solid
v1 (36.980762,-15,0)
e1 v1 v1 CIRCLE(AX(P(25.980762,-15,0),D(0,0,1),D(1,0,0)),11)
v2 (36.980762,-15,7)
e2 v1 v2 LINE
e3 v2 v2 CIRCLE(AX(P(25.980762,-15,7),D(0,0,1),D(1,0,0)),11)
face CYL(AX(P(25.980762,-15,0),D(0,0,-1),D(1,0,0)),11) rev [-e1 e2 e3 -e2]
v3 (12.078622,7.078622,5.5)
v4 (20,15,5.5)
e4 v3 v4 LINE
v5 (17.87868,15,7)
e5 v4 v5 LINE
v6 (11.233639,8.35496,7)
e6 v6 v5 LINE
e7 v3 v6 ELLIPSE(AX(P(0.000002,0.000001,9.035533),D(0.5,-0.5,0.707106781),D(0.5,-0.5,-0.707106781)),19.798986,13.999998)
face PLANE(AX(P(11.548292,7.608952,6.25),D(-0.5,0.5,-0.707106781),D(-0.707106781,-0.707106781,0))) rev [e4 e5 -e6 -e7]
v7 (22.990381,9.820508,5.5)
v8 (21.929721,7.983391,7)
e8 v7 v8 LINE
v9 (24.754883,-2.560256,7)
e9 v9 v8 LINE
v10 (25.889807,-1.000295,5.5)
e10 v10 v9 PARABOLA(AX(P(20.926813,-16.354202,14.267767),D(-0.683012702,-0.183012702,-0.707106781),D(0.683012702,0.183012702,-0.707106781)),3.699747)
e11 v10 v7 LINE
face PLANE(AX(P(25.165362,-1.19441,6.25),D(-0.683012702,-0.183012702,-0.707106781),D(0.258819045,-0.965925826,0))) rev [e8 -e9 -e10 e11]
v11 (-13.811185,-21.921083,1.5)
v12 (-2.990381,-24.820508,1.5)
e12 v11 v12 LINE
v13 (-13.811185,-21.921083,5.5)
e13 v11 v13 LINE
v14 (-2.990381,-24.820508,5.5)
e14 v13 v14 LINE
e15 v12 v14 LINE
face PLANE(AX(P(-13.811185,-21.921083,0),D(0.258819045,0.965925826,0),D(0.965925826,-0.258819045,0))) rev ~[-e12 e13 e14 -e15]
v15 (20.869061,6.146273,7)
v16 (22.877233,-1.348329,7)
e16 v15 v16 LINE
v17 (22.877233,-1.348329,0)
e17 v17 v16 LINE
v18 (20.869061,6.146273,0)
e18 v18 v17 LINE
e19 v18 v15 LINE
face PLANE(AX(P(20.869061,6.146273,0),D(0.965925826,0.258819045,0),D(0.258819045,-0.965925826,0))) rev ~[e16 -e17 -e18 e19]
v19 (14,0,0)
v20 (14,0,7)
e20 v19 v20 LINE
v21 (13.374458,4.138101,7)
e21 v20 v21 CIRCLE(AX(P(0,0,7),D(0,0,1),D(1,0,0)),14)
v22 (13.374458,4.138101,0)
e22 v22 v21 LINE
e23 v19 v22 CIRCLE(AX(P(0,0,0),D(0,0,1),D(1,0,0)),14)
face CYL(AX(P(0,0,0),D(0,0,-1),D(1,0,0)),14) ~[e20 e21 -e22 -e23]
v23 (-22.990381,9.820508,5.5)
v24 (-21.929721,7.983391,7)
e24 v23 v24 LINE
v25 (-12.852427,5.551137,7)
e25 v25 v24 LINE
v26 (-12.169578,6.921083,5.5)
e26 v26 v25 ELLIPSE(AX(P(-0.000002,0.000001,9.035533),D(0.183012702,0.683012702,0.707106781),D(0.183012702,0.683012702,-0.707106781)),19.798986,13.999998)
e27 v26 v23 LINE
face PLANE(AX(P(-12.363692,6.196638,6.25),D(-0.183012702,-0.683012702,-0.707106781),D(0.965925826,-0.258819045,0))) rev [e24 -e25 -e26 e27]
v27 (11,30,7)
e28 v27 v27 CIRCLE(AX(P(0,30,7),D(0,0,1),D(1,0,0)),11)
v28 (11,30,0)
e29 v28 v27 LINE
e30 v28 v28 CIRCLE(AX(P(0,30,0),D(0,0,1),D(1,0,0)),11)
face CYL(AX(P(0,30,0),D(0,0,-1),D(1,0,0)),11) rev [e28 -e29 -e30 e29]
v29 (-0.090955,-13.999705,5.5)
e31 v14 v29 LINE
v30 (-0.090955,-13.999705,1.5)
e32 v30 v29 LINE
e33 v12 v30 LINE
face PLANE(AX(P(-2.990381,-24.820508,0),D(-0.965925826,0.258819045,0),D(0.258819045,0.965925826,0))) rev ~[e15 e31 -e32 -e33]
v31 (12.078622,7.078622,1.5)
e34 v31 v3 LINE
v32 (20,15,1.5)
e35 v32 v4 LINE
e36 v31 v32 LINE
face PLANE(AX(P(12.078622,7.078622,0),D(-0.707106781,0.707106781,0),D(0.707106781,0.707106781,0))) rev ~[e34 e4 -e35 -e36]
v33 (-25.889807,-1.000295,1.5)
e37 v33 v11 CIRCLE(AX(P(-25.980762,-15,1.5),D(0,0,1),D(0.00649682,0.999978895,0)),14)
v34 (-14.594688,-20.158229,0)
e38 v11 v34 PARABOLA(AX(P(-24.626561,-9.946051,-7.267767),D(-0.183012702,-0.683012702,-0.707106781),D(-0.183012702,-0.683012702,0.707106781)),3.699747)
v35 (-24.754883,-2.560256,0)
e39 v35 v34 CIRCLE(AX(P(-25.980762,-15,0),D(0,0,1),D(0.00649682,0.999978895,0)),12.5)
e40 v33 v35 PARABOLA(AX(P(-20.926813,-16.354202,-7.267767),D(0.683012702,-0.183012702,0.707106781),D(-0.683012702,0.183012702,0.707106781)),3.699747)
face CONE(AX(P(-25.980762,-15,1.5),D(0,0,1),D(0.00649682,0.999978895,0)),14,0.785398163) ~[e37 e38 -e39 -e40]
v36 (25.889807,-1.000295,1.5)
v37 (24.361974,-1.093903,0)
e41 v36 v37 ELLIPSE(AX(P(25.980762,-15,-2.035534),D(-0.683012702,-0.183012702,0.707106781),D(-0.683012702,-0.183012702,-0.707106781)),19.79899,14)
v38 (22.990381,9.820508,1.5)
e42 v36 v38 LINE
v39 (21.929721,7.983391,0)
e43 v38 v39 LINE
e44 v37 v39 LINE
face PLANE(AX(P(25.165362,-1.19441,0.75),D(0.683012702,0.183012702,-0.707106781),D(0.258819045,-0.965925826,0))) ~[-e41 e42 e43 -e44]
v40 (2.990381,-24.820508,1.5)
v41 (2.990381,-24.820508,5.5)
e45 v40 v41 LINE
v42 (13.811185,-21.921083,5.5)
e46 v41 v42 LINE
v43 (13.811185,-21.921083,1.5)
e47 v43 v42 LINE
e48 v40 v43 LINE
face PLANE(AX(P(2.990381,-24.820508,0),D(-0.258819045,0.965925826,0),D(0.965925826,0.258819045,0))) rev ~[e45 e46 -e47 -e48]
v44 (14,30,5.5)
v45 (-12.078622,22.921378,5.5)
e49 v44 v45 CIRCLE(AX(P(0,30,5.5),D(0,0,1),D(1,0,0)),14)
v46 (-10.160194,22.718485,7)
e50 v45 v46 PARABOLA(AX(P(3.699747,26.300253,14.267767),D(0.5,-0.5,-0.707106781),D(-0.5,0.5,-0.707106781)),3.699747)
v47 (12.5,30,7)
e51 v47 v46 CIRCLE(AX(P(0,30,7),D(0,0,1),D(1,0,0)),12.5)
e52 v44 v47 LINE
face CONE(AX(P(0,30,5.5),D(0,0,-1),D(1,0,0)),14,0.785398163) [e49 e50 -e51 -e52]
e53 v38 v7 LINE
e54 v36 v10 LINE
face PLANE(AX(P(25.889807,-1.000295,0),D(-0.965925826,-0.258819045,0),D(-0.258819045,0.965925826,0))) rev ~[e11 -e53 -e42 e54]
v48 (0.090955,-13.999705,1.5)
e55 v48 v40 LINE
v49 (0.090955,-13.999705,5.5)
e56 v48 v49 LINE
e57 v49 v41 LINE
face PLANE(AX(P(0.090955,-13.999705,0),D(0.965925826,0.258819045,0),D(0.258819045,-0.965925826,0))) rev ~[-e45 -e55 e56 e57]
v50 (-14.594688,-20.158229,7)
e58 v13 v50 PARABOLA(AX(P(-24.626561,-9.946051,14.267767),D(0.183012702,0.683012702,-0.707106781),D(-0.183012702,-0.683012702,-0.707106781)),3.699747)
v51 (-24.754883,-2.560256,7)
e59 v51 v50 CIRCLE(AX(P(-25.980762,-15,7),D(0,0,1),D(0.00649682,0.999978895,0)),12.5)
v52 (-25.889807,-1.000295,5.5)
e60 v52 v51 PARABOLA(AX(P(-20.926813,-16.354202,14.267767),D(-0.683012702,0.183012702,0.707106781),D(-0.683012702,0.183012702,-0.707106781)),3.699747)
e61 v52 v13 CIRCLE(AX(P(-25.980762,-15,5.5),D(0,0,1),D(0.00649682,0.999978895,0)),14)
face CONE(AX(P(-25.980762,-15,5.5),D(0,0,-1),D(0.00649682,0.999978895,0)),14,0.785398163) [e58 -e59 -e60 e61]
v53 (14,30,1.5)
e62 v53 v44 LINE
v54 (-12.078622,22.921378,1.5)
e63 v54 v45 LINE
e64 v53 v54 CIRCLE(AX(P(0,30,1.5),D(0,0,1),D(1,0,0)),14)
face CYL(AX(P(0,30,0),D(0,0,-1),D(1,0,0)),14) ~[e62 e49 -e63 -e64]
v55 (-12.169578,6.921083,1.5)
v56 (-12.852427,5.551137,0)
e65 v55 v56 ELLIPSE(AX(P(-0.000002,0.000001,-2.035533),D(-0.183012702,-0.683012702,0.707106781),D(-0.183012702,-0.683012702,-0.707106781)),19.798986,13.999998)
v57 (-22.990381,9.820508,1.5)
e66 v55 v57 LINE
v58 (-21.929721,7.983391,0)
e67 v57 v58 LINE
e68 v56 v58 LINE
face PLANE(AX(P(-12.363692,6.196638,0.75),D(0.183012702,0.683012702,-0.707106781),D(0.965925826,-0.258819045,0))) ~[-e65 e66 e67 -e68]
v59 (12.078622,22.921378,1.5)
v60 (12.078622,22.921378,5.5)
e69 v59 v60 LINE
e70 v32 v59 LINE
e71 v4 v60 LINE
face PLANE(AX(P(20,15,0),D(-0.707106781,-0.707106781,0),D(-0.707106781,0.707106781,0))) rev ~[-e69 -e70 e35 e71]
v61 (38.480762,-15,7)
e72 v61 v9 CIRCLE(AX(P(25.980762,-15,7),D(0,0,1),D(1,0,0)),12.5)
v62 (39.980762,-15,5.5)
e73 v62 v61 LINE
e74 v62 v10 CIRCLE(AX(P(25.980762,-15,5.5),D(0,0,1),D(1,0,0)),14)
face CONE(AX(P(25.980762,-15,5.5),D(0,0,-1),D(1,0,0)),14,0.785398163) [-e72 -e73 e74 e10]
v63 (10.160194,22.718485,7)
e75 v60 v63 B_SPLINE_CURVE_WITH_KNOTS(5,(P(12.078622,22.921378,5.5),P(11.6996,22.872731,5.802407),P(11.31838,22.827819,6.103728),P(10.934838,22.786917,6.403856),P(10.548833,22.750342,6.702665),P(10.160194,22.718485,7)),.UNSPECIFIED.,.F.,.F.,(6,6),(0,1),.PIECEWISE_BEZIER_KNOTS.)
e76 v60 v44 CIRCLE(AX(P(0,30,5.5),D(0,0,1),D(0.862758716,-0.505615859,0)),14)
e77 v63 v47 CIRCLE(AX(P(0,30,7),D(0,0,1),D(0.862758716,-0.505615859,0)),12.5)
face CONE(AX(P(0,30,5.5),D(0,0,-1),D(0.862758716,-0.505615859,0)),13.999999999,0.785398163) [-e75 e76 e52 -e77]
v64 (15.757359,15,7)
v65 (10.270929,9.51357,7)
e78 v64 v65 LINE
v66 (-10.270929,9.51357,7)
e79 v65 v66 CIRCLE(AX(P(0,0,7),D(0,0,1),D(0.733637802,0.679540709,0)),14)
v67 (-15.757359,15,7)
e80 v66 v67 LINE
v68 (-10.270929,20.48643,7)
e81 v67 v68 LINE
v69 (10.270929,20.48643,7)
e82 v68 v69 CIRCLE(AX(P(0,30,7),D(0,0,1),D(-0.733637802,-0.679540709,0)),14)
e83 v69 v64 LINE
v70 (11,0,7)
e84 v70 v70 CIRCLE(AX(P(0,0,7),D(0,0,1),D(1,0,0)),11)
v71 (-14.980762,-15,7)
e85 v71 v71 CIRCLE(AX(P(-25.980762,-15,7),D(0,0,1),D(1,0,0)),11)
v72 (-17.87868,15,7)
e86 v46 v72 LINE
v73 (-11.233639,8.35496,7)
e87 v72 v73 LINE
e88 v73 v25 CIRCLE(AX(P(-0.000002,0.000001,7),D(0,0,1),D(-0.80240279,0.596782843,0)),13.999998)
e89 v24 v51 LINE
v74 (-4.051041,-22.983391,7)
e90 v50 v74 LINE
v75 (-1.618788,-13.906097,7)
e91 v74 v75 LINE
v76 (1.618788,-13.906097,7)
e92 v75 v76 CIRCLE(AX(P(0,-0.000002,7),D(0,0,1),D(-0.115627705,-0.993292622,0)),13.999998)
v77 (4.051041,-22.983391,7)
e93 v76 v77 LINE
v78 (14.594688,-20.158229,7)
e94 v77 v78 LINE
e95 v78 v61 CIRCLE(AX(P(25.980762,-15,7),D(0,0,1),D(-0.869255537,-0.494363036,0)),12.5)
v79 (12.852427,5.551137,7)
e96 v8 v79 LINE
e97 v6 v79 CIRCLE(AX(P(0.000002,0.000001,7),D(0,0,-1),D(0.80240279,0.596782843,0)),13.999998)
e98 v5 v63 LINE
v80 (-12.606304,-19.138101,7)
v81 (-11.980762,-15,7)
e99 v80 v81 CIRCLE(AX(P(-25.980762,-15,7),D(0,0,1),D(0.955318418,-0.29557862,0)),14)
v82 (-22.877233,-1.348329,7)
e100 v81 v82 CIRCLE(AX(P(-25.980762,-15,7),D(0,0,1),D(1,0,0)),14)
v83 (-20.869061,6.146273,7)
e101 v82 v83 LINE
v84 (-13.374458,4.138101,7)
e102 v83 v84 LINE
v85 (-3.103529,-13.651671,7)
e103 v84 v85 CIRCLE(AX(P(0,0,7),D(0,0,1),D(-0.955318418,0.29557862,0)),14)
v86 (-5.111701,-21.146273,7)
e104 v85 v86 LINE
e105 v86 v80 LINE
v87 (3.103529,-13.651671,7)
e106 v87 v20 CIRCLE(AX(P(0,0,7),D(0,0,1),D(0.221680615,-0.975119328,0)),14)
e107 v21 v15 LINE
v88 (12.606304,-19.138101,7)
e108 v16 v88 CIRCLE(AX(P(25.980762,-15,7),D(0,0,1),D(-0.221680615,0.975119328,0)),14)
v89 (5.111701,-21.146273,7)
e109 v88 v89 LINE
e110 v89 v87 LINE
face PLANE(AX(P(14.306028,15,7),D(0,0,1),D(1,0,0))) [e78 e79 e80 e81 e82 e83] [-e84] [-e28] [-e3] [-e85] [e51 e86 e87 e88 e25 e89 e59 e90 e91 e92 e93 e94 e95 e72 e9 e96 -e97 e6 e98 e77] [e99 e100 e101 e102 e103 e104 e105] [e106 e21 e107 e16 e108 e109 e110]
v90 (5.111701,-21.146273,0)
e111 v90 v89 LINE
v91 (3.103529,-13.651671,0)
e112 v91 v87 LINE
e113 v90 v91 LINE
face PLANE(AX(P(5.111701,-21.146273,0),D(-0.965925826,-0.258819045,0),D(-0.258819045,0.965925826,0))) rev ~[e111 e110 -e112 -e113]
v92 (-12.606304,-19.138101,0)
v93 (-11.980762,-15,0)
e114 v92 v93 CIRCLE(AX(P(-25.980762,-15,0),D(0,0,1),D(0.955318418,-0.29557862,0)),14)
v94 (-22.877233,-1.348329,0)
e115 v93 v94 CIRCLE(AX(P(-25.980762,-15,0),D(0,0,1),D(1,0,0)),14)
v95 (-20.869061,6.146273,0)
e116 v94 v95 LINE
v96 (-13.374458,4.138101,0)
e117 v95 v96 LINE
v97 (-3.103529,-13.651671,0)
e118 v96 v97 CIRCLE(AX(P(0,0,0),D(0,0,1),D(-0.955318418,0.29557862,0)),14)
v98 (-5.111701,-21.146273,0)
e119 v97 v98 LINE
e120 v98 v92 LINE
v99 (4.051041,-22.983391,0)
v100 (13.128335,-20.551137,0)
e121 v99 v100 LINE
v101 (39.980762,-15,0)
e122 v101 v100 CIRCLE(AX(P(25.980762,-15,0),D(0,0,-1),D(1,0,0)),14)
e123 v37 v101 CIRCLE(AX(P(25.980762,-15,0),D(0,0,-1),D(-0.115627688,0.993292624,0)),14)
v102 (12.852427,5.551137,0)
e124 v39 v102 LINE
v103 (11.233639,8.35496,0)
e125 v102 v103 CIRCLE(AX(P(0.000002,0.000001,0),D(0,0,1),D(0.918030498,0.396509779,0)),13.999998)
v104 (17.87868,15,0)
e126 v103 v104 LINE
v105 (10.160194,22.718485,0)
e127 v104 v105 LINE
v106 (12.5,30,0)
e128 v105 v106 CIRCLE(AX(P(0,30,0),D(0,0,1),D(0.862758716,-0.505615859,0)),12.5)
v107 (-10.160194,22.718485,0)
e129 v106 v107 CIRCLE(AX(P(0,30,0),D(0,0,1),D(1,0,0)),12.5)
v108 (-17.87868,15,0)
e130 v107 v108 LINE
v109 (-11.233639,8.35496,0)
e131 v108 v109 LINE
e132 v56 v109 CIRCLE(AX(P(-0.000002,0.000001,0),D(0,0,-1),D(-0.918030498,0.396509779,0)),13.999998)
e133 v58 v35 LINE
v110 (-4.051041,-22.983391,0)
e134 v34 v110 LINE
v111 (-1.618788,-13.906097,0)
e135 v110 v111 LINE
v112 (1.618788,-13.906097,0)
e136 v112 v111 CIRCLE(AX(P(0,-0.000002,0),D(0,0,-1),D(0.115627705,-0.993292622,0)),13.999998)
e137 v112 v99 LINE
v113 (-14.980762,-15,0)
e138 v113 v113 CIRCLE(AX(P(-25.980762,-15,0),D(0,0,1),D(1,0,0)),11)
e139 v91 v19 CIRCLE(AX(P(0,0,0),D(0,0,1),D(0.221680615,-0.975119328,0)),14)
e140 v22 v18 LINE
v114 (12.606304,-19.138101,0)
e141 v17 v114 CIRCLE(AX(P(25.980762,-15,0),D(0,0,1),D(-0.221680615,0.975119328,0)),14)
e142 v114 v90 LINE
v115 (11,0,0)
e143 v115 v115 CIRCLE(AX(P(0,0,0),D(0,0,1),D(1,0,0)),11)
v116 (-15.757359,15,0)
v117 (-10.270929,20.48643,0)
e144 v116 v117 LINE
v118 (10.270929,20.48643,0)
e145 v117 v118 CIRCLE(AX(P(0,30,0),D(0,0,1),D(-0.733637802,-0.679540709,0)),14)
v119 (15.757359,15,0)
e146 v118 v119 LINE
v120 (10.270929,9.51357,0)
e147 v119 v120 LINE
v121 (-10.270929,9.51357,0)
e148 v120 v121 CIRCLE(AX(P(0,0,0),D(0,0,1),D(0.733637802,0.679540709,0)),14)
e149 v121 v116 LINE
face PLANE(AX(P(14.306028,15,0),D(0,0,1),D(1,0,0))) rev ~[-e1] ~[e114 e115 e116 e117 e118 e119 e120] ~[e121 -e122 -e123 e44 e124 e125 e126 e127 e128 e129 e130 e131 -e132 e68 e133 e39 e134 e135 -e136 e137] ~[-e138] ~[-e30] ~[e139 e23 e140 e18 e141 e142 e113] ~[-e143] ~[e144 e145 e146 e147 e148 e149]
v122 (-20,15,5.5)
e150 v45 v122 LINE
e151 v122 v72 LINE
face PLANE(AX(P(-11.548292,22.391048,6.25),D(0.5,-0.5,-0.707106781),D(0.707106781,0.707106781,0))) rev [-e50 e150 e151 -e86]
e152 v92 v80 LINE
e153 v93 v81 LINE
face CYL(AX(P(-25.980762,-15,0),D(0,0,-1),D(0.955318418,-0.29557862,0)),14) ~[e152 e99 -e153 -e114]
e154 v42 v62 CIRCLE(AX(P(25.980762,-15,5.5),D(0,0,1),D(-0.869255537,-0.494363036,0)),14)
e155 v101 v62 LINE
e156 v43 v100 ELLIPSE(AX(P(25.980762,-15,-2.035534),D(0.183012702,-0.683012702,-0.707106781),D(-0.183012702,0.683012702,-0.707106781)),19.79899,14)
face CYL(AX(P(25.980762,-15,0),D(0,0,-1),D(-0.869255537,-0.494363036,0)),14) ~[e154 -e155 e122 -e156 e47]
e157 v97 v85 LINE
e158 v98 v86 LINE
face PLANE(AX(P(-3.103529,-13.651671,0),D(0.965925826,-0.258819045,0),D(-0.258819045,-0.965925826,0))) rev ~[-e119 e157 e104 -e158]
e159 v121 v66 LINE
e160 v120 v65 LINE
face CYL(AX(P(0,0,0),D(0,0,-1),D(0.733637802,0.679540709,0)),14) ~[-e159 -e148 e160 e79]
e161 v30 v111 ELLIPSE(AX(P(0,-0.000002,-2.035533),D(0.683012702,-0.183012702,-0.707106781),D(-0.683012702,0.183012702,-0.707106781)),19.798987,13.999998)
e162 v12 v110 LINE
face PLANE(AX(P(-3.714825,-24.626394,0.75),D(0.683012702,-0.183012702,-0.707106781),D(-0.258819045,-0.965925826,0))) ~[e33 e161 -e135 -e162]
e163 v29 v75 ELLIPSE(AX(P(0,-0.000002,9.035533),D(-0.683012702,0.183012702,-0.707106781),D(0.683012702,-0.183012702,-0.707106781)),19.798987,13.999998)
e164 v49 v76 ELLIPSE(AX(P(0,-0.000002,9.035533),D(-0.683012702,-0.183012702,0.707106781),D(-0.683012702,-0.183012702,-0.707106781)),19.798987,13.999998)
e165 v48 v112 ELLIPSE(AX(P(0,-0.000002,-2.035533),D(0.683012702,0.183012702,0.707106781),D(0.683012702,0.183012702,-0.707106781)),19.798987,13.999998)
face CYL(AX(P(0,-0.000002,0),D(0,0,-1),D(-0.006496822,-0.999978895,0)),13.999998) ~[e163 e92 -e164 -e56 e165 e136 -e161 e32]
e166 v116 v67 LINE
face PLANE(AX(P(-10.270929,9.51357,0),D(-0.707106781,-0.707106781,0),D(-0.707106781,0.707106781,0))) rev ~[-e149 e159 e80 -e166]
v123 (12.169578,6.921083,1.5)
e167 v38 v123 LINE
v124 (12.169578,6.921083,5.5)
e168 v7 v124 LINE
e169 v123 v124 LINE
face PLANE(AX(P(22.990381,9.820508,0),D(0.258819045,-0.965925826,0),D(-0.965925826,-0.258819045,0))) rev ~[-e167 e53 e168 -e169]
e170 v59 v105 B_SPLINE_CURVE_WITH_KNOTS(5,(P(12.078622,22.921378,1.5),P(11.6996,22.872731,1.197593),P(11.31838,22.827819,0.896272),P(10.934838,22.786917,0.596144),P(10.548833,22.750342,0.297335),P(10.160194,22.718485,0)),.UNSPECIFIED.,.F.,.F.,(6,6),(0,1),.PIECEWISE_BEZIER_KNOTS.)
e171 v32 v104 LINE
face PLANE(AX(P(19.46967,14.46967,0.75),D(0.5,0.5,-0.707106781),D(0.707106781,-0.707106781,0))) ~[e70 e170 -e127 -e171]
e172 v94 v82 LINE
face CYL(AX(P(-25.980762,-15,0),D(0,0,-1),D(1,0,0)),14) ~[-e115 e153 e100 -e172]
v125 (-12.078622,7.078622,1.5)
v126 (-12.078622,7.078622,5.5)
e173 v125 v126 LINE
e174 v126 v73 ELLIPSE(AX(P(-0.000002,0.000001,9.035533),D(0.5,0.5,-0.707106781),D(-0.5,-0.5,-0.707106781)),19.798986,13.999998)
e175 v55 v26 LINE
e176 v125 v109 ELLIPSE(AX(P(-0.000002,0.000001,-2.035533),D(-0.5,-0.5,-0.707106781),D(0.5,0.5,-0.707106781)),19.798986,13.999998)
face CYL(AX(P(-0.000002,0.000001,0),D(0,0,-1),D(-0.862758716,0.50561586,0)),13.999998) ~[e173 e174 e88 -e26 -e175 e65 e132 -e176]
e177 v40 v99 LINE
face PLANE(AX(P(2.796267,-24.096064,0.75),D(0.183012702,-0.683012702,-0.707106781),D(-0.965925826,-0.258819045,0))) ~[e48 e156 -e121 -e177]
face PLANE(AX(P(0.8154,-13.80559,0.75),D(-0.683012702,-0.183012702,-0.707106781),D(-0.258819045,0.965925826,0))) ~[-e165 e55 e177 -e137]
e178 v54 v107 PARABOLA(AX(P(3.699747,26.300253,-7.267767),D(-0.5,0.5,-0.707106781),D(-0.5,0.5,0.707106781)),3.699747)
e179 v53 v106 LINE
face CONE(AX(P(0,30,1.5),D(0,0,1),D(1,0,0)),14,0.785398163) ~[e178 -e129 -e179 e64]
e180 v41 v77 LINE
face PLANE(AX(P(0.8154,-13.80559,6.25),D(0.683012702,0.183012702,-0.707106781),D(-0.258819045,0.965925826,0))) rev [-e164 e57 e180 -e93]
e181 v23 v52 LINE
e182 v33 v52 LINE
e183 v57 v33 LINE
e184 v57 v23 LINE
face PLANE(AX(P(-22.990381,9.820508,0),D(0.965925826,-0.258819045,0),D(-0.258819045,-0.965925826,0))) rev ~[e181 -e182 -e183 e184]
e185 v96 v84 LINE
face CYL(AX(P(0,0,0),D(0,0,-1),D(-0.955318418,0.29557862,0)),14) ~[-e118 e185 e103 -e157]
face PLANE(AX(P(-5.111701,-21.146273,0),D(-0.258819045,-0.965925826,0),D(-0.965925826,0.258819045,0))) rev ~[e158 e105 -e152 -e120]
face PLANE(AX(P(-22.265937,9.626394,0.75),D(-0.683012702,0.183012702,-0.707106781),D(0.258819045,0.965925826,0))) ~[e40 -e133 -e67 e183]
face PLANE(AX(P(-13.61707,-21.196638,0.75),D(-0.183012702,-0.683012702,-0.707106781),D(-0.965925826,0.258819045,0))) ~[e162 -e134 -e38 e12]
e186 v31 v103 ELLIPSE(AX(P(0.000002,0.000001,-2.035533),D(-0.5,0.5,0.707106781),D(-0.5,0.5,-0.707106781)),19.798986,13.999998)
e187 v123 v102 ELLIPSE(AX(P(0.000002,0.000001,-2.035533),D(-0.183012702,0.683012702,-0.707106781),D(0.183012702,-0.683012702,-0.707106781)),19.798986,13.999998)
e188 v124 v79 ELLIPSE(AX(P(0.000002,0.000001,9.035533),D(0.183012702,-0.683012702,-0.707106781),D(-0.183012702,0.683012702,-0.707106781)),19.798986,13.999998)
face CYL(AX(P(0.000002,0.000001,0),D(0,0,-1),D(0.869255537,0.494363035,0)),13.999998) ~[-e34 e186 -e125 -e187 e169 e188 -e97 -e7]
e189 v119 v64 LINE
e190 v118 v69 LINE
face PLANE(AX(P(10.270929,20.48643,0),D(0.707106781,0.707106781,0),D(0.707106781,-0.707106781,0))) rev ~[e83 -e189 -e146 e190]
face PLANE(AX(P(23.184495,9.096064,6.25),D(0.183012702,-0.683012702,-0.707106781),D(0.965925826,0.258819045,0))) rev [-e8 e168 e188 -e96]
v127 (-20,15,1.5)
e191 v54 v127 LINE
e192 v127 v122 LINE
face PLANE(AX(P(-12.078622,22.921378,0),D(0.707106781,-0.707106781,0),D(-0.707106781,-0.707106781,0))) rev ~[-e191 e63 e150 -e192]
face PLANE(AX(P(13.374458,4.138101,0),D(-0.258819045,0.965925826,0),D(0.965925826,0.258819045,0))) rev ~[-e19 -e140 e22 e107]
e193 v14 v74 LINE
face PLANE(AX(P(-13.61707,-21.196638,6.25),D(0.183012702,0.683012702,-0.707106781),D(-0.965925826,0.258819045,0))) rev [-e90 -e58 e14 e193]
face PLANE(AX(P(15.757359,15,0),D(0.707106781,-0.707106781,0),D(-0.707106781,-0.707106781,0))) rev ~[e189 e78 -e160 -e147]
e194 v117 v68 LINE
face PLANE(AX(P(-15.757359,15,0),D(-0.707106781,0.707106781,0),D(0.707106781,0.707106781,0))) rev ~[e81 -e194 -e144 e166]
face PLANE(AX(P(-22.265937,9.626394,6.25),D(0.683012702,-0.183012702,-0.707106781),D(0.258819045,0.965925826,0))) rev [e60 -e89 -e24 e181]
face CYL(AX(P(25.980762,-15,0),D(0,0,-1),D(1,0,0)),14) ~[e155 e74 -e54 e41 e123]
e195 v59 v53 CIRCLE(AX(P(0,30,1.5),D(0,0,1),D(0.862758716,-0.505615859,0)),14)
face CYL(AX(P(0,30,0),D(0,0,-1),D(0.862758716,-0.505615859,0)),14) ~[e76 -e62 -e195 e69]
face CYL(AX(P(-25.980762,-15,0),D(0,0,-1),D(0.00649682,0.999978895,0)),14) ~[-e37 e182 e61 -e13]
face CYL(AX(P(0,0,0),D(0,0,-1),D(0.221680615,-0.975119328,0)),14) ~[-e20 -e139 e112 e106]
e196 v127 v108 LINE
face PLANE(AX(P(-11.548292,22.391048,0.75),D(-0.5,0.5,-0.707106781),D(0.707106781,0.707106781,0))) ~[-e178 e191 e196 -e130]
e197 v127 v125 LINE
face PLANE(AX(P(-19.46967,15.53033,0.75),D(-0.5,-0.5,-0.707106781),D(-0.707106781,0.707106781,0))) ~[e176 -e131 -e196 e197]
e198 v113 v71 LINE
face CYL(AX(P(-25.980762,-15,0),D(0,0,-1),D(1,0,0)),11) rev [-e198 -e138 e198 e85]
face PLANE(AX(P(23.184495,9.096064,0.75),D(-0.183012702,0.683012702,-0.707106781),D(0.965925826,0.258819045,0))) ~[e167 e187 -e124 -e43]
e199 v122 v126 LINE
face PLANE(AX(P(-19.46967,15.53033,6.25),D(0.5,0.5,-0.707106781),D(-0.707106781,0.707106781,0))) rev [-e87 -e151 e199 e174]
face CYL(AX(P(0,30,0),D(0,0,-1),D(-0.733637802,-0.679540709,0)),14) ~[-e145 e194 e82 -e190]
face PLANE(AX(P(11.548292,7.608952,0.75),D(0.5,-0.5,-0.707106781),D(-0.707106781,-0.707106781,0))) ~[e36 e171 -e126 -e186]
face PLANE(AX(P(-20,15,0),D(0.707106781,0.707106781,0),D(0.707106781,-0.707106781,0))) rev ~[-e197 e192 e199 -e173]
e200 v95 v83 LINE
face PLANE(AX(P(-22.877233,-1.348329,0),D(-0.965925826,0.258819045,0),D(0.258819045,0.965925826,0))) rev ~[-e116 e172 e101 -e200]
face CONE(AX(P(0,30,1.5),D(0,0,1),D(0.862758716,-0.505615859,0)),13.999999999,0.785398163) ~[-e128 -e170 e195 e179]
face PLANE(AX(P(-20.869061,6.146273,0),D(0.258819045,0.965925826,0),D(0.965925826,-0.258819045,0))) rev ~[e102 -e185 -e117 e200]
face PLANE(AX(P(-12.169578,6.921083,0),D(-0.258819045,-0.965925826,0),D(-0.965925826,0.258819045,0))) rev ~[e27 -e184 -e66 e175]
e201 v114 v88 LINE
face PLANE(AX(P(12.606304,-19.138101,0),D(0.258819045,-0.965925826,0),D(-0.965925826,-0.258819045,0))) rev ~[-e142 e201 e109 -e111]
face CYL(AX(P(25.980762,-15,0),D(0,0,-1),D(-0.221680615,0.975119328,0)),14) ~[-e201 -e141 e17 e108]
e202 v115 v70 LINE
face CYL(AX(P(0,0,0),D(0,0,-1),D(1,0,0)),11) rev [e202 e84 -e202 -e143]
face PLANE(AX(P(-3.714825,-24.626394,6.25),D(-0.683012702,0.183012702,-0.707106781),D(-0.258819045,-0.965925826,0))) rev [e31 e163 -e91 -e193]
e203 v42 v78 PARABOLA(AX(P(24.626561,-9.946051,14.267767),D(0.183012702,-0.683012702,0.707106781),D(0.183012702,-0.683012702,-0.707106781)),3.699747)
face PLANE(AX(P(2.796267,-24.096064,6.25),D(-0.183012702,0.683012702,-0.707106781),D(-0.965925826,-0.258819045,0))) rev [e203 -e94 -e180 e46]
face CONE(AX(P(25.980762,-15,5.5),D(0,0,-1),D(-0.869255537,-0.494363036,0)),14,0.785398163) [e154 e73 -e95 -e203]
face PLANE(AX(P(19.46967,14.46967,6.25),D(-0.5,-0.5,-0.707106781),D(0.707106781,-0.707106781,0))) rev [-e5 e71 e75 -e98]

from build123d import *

# Parameters (mm, degrees)
F0_R     = 11
F1_DEPTH = 7
F2_SIZE  = 1.5


with BuildPart() as f1:
    # F0 (on Top) → F1 (new body)
    with BuildSketch(Plane.XY):
        with BuildLine():
            ThreePointArc((10.2709292347, 9.5135699218), (11.240900909, 8.3451870413), (12.0786220303, 7.0786220303))
            Line((12.0786220303, 7.0786220303), (20, 15))
            Line((20, 15), (12.0786220303, 22.9213779697))
            ThreePointArc((12.0786220303, 22.9213779697), (11.240900909, 21.6548129587), (10.2709292347, 20.4864300782))
            Line((10.2709292347, 20.4864300782), (15.7573593129, 15))
            Line((15.7573593129, 15), (10.2709292347, 9.5135699218))
        make_face()
        with BuildLine():
            ThreePointArc((10.2709292347, 20.4864300782), (11.240900909, 21.6548129587), (12.0786220303, 22.9213779697))
            ThreePointArc((12.0786220303, 22.9213779697), (13.5111196506, 26.3326241278), (14, 30))
            ThreePointArc((14, 30), (-3.6673758722, 43.5111196506), (-12.0786220303, 22.9213779697))
            ThreePointArc((-12.0786220303, 22.9213779697), (-11.240900909, 21.6548129587), (-10.2709292347, 20.4864300782))
            ThreePointArc((-10.2709292347, 20.4864300782), (0, 16), (10.2709292347, 20.4864300782))
        make_face()
        with Locations((0, 30)):
            Circle(F0_R, mode=Mode.SUBTRACT)
        with BuildLine():
            ThreePointArc((-12.0786220303, 7.0786220303), (-11.240900909, 8.3451870413), (-10.2709292347, 9.5135699218))
            Line((-10.2709292347, 9.5135699218), (-15.7573593129, 15))
            Line((-15.7573593129, 15), (-10.2709292347, 20.4864300782))
            ThreePointArc((-10.2709292347, 20.4864300782), (-11.240900909, 21.6548129587), (-12.0786220303, 22.9213779697))
            Line((-12.0786220303, 22.9213779697), (-20, 15))
            Line((-20, 15), (-12.0786220303, 7.0786220303))
        make_face()
        with BuildLine():
            Line((-20.8690607132, 6.1462734615), (-13.3744578503, 4.1381006768))
            ThreePointArc((-13.3744578503, 4.1381006768), (-12.8475944316, 5.5623122279), (-12.1695775172, 6.9210825058))
            Line((-12.1695775172, 6.9210825058), (-22.9903810568, 9.8205080757))
            Line((-22.9903810568, 9.8205080757), (-25.8898066266, -1.0002954639))
            ThreePointArc((-25.8898066266, -1.0002954639), (-24.3740685909, -1.0925007307), (-22.8772334979, -1.3483294014))
            Line((-22.8772334979, -1.3483294014), (-20.8690607132, 6.1462734615))
        make_face()
        with BuildLine():
            ThreePointArc((3.1035286156, -13.6516705986), (10.9418782807, -8.7335731342), (14, 0))
            ThreePointArc((14, 0), (13.8427311233, 2.0925570597), (13.3744578503, 4.1381006768))
            ThreePointArc((13.3744578503, 4.1381006768), (12.8475944316, 5.5623122279), (12.1695775172, 6.9210825058))
            ThreePointArc((12.1695775172, 6.9210825058), (12.124355653, 7), (12.0786220303, 7.0786220303))
            ThreePointArc((12.0786220303, 7.0786220303), (11.240900909, 8.3451870413), (10.2709292347, 9.5135699218))
            ThreePointArc((10.2709292347, 9.5135699218), (0, 14), (-10.2709292347, 9.5135699218))
            ThreePointArc((-10.2709292347, 9.5135699218), (-11.240900909, 8.3451870413), (-12.0786220303, 7.0786220303))
            ThreePointArc((-12.0786220303, 7.0786220303), (-12.124355653, 7), (-12.1695775172, 6.9210825058))
            ThreePointArc((-12.1695775172, 6.9210825058), (-12.8475944316, 5.5623122279), (-13.3744578503, 4.1381006768))
            ThreePointArc((-13.3744578503, 4.1381006768), (-12.124355653, -7), (-3.1035286156, -13.6516705986))
            ThreePointArc((-3.1035286156, -13.6516705986), (-1.6066935226, -13.9074992693), (-0.0909554869, -13.9997045361))
            ThreePointArc((-0.0909554869, -13.9997045361), (0, -14), (0.0909554869, -13.9997045361))
            ThreePointArc((0.0909554869, -13.9997045361), (1.6066935226, -13.9074992693), (3.1035286156, -13.6516705986))
        make_face()
        Circle(F0_R, mode=Mode.SUBTRACT)
        with BuildLine():
            ThreePointArc((-25.8898066266, -1.0002954639), (-38.1051177665, -22), (-13.8111845963, -21.9210825058))
            ThreePointArc((-13.8111845963, -21.9210825058), (-13.1331676819, -20.5623122279), (-12.6063042633, -19.1381006768))
            ThreePointArc((-12.6063042633, -19.1381006768), (-12.1380309902, -17.0925570597), (-11.9807621135, -15))
            ThreePointArc((-11.9807621135, -15), (-15.0388838329, -6.2664268658), (-22.8772334979, -1.3483294014))
            ThreePointArc((-22.8772334979, -1.3483294014), (-24.3740685909, -1.0925007307), (-25.8898066266, -1.0002954639))
        make_face()
        with Locations((-25.9807621135, -15)):
            Circle(F0_R, mode=Mode.SUBTRACT)
        with BuildLine():
            Line((-2.9903810568, -24.8205080757), (-0.0909554869, -13.9997045361))
            ThreePointArc((-0.0909554869, -13.9997045361), (-1.6066935226, -13.9074992693), (-3.1035286156, -13.6516705986))
            Line((-3.1035286156, -13.6516705986), (-5.1117014003, -21.1462734615))
            Line((-5.1117014003, -21.1462734615), (-12.6063042633, -19.1381006768))
            ThreePointArc((-12.6063042633, -19.1381006768), (-13.1331676819, -20.5623122279), (-13.8111845963, -21.9210825058))
            Line((-13.8111845963, -21.9210825058), (-2.9903810568, -24.8205080757))
        make_face()
        with BuildLine():
            Line((5.1117014003, -21.1462734615), (3.1035286156, -13.6516705986))
            ThreePointArc((3.1035286156, -13.6516705986), (1.6066935226, -13.9074992693), (0.0909554869, -13.9997045361))
            Line((0.0909554869, -13.9997045361), (2.9903810568, -24.8205080757))
            Line((2.9903810568, -24.8205080757), (13.8111845963, -21.9210825058))
            ThreePointArc((13.8111845963, -21.9210825058), (13.1331676819, -20.5623122279), (12.6063042633, -19.1381006768))
            Line((12.6063042633, -19.1381006768), (5.1117014003, -21.1462734615))
        make_face()
        with BuildLine():
            ThreePointArc((12.1695775172, 6.9210825058), (12.8475944316, 5.5623122279), (13.3744578503, 4.1381006768))
            Line((13.3744578503, 4.1381006768), (20.8690607132, 6.1462734615))
            Line((20.8690607132, 6.1462734615), (22.8772334979, -1.3483294014))
            ThreePointArc((22.8772334979, -1.3483294014), (24.3740685909, -1.0925007307), (25.8898066266, -1.0002954639))
            Line((25.8898066266, -1.0002954639), (22.9903810568, 9.8205080757))
            Line((22.9903810568, 9.8205080757), (12.1695775172, 6.9210825058))
        make_face()
        with BuildLine():
            ThreePointArc((25.8898066266, -1.0002954639), (24.3740685909, -1.0925007307), (22.8772334979, -1.3483294014))
            ThreePointArc((22.8772334979, -1.3483294014), (13.8564064606, -8), (12.6063042633, -19.1381006768))
            ThreePointArc((12.6063042633, -19.1381006768), (13.1331676819, -20.5623122279), (13.8111845963, -21.9210825058))
            ThreePointArc((13.8111845963, -21.9210825058), (29.5602812683, -28.5346607871), (39.9807621135, -15))
            ThreePointArc((39.9807621135, -15), (35.8480470284, -5.0683995042), (25.8898066266, -1.0002954639))
        make_face()
        with Locations((25.9807621135, -15)):
            Circle(F0_R, mode=Mode.SUBTRACT)
    extrude(amount=F1_DEPTH)

    # F2
    f2_edges = [f1.edges().sort_by_distance(p)[0] for p in [
        (0, 44, 7),
        (-16.039311, 18.960689, 7),
        (-16.039311, 11.039311, 7),
        (-17.579979, 8.370795, 7),
        (-24.440094, 4.410106, 7),
        (-38.105118, -22, 7),
        (-8.400783, -23.370795, 7),
        (-1.540668, -19.410106, 7),
        (1.540668, -19.410106, 7),
        (8.400783, -23.370795, 7),
        (38.105118, -22, 7),
        (24.440094, 4.410106, 7),
        (17.579979, 8.370795, 7),
        (16.039311, 11.039311, 7),
        (16.039311, 18.960689, 7),
        (8.400783, -23.370795, 0),
        (24.440094, 4.410106, 0),
        (17.579979, 8.370795, 0),
        (16.039311, 11.039311, 0),
        (16.039311, 18.960689, 0),
        (0, 44, 0),
        (-16.039311, 18.960689, 0),
        (-16.039311, 11.039311, 0),
        (-17.579979, 8.370795, 0),
        (-24.440094, 4.410106, 0),
        (-38.105118, -22, 0),
        (-8.400783, -23.370795, 0),
        (-1.540668, -19.410106, 0),
        (1.540668, -19.410106, 0),
    ]]
    chamfer(f2_edges, length=F2_SIZE)


solid = f1.part
